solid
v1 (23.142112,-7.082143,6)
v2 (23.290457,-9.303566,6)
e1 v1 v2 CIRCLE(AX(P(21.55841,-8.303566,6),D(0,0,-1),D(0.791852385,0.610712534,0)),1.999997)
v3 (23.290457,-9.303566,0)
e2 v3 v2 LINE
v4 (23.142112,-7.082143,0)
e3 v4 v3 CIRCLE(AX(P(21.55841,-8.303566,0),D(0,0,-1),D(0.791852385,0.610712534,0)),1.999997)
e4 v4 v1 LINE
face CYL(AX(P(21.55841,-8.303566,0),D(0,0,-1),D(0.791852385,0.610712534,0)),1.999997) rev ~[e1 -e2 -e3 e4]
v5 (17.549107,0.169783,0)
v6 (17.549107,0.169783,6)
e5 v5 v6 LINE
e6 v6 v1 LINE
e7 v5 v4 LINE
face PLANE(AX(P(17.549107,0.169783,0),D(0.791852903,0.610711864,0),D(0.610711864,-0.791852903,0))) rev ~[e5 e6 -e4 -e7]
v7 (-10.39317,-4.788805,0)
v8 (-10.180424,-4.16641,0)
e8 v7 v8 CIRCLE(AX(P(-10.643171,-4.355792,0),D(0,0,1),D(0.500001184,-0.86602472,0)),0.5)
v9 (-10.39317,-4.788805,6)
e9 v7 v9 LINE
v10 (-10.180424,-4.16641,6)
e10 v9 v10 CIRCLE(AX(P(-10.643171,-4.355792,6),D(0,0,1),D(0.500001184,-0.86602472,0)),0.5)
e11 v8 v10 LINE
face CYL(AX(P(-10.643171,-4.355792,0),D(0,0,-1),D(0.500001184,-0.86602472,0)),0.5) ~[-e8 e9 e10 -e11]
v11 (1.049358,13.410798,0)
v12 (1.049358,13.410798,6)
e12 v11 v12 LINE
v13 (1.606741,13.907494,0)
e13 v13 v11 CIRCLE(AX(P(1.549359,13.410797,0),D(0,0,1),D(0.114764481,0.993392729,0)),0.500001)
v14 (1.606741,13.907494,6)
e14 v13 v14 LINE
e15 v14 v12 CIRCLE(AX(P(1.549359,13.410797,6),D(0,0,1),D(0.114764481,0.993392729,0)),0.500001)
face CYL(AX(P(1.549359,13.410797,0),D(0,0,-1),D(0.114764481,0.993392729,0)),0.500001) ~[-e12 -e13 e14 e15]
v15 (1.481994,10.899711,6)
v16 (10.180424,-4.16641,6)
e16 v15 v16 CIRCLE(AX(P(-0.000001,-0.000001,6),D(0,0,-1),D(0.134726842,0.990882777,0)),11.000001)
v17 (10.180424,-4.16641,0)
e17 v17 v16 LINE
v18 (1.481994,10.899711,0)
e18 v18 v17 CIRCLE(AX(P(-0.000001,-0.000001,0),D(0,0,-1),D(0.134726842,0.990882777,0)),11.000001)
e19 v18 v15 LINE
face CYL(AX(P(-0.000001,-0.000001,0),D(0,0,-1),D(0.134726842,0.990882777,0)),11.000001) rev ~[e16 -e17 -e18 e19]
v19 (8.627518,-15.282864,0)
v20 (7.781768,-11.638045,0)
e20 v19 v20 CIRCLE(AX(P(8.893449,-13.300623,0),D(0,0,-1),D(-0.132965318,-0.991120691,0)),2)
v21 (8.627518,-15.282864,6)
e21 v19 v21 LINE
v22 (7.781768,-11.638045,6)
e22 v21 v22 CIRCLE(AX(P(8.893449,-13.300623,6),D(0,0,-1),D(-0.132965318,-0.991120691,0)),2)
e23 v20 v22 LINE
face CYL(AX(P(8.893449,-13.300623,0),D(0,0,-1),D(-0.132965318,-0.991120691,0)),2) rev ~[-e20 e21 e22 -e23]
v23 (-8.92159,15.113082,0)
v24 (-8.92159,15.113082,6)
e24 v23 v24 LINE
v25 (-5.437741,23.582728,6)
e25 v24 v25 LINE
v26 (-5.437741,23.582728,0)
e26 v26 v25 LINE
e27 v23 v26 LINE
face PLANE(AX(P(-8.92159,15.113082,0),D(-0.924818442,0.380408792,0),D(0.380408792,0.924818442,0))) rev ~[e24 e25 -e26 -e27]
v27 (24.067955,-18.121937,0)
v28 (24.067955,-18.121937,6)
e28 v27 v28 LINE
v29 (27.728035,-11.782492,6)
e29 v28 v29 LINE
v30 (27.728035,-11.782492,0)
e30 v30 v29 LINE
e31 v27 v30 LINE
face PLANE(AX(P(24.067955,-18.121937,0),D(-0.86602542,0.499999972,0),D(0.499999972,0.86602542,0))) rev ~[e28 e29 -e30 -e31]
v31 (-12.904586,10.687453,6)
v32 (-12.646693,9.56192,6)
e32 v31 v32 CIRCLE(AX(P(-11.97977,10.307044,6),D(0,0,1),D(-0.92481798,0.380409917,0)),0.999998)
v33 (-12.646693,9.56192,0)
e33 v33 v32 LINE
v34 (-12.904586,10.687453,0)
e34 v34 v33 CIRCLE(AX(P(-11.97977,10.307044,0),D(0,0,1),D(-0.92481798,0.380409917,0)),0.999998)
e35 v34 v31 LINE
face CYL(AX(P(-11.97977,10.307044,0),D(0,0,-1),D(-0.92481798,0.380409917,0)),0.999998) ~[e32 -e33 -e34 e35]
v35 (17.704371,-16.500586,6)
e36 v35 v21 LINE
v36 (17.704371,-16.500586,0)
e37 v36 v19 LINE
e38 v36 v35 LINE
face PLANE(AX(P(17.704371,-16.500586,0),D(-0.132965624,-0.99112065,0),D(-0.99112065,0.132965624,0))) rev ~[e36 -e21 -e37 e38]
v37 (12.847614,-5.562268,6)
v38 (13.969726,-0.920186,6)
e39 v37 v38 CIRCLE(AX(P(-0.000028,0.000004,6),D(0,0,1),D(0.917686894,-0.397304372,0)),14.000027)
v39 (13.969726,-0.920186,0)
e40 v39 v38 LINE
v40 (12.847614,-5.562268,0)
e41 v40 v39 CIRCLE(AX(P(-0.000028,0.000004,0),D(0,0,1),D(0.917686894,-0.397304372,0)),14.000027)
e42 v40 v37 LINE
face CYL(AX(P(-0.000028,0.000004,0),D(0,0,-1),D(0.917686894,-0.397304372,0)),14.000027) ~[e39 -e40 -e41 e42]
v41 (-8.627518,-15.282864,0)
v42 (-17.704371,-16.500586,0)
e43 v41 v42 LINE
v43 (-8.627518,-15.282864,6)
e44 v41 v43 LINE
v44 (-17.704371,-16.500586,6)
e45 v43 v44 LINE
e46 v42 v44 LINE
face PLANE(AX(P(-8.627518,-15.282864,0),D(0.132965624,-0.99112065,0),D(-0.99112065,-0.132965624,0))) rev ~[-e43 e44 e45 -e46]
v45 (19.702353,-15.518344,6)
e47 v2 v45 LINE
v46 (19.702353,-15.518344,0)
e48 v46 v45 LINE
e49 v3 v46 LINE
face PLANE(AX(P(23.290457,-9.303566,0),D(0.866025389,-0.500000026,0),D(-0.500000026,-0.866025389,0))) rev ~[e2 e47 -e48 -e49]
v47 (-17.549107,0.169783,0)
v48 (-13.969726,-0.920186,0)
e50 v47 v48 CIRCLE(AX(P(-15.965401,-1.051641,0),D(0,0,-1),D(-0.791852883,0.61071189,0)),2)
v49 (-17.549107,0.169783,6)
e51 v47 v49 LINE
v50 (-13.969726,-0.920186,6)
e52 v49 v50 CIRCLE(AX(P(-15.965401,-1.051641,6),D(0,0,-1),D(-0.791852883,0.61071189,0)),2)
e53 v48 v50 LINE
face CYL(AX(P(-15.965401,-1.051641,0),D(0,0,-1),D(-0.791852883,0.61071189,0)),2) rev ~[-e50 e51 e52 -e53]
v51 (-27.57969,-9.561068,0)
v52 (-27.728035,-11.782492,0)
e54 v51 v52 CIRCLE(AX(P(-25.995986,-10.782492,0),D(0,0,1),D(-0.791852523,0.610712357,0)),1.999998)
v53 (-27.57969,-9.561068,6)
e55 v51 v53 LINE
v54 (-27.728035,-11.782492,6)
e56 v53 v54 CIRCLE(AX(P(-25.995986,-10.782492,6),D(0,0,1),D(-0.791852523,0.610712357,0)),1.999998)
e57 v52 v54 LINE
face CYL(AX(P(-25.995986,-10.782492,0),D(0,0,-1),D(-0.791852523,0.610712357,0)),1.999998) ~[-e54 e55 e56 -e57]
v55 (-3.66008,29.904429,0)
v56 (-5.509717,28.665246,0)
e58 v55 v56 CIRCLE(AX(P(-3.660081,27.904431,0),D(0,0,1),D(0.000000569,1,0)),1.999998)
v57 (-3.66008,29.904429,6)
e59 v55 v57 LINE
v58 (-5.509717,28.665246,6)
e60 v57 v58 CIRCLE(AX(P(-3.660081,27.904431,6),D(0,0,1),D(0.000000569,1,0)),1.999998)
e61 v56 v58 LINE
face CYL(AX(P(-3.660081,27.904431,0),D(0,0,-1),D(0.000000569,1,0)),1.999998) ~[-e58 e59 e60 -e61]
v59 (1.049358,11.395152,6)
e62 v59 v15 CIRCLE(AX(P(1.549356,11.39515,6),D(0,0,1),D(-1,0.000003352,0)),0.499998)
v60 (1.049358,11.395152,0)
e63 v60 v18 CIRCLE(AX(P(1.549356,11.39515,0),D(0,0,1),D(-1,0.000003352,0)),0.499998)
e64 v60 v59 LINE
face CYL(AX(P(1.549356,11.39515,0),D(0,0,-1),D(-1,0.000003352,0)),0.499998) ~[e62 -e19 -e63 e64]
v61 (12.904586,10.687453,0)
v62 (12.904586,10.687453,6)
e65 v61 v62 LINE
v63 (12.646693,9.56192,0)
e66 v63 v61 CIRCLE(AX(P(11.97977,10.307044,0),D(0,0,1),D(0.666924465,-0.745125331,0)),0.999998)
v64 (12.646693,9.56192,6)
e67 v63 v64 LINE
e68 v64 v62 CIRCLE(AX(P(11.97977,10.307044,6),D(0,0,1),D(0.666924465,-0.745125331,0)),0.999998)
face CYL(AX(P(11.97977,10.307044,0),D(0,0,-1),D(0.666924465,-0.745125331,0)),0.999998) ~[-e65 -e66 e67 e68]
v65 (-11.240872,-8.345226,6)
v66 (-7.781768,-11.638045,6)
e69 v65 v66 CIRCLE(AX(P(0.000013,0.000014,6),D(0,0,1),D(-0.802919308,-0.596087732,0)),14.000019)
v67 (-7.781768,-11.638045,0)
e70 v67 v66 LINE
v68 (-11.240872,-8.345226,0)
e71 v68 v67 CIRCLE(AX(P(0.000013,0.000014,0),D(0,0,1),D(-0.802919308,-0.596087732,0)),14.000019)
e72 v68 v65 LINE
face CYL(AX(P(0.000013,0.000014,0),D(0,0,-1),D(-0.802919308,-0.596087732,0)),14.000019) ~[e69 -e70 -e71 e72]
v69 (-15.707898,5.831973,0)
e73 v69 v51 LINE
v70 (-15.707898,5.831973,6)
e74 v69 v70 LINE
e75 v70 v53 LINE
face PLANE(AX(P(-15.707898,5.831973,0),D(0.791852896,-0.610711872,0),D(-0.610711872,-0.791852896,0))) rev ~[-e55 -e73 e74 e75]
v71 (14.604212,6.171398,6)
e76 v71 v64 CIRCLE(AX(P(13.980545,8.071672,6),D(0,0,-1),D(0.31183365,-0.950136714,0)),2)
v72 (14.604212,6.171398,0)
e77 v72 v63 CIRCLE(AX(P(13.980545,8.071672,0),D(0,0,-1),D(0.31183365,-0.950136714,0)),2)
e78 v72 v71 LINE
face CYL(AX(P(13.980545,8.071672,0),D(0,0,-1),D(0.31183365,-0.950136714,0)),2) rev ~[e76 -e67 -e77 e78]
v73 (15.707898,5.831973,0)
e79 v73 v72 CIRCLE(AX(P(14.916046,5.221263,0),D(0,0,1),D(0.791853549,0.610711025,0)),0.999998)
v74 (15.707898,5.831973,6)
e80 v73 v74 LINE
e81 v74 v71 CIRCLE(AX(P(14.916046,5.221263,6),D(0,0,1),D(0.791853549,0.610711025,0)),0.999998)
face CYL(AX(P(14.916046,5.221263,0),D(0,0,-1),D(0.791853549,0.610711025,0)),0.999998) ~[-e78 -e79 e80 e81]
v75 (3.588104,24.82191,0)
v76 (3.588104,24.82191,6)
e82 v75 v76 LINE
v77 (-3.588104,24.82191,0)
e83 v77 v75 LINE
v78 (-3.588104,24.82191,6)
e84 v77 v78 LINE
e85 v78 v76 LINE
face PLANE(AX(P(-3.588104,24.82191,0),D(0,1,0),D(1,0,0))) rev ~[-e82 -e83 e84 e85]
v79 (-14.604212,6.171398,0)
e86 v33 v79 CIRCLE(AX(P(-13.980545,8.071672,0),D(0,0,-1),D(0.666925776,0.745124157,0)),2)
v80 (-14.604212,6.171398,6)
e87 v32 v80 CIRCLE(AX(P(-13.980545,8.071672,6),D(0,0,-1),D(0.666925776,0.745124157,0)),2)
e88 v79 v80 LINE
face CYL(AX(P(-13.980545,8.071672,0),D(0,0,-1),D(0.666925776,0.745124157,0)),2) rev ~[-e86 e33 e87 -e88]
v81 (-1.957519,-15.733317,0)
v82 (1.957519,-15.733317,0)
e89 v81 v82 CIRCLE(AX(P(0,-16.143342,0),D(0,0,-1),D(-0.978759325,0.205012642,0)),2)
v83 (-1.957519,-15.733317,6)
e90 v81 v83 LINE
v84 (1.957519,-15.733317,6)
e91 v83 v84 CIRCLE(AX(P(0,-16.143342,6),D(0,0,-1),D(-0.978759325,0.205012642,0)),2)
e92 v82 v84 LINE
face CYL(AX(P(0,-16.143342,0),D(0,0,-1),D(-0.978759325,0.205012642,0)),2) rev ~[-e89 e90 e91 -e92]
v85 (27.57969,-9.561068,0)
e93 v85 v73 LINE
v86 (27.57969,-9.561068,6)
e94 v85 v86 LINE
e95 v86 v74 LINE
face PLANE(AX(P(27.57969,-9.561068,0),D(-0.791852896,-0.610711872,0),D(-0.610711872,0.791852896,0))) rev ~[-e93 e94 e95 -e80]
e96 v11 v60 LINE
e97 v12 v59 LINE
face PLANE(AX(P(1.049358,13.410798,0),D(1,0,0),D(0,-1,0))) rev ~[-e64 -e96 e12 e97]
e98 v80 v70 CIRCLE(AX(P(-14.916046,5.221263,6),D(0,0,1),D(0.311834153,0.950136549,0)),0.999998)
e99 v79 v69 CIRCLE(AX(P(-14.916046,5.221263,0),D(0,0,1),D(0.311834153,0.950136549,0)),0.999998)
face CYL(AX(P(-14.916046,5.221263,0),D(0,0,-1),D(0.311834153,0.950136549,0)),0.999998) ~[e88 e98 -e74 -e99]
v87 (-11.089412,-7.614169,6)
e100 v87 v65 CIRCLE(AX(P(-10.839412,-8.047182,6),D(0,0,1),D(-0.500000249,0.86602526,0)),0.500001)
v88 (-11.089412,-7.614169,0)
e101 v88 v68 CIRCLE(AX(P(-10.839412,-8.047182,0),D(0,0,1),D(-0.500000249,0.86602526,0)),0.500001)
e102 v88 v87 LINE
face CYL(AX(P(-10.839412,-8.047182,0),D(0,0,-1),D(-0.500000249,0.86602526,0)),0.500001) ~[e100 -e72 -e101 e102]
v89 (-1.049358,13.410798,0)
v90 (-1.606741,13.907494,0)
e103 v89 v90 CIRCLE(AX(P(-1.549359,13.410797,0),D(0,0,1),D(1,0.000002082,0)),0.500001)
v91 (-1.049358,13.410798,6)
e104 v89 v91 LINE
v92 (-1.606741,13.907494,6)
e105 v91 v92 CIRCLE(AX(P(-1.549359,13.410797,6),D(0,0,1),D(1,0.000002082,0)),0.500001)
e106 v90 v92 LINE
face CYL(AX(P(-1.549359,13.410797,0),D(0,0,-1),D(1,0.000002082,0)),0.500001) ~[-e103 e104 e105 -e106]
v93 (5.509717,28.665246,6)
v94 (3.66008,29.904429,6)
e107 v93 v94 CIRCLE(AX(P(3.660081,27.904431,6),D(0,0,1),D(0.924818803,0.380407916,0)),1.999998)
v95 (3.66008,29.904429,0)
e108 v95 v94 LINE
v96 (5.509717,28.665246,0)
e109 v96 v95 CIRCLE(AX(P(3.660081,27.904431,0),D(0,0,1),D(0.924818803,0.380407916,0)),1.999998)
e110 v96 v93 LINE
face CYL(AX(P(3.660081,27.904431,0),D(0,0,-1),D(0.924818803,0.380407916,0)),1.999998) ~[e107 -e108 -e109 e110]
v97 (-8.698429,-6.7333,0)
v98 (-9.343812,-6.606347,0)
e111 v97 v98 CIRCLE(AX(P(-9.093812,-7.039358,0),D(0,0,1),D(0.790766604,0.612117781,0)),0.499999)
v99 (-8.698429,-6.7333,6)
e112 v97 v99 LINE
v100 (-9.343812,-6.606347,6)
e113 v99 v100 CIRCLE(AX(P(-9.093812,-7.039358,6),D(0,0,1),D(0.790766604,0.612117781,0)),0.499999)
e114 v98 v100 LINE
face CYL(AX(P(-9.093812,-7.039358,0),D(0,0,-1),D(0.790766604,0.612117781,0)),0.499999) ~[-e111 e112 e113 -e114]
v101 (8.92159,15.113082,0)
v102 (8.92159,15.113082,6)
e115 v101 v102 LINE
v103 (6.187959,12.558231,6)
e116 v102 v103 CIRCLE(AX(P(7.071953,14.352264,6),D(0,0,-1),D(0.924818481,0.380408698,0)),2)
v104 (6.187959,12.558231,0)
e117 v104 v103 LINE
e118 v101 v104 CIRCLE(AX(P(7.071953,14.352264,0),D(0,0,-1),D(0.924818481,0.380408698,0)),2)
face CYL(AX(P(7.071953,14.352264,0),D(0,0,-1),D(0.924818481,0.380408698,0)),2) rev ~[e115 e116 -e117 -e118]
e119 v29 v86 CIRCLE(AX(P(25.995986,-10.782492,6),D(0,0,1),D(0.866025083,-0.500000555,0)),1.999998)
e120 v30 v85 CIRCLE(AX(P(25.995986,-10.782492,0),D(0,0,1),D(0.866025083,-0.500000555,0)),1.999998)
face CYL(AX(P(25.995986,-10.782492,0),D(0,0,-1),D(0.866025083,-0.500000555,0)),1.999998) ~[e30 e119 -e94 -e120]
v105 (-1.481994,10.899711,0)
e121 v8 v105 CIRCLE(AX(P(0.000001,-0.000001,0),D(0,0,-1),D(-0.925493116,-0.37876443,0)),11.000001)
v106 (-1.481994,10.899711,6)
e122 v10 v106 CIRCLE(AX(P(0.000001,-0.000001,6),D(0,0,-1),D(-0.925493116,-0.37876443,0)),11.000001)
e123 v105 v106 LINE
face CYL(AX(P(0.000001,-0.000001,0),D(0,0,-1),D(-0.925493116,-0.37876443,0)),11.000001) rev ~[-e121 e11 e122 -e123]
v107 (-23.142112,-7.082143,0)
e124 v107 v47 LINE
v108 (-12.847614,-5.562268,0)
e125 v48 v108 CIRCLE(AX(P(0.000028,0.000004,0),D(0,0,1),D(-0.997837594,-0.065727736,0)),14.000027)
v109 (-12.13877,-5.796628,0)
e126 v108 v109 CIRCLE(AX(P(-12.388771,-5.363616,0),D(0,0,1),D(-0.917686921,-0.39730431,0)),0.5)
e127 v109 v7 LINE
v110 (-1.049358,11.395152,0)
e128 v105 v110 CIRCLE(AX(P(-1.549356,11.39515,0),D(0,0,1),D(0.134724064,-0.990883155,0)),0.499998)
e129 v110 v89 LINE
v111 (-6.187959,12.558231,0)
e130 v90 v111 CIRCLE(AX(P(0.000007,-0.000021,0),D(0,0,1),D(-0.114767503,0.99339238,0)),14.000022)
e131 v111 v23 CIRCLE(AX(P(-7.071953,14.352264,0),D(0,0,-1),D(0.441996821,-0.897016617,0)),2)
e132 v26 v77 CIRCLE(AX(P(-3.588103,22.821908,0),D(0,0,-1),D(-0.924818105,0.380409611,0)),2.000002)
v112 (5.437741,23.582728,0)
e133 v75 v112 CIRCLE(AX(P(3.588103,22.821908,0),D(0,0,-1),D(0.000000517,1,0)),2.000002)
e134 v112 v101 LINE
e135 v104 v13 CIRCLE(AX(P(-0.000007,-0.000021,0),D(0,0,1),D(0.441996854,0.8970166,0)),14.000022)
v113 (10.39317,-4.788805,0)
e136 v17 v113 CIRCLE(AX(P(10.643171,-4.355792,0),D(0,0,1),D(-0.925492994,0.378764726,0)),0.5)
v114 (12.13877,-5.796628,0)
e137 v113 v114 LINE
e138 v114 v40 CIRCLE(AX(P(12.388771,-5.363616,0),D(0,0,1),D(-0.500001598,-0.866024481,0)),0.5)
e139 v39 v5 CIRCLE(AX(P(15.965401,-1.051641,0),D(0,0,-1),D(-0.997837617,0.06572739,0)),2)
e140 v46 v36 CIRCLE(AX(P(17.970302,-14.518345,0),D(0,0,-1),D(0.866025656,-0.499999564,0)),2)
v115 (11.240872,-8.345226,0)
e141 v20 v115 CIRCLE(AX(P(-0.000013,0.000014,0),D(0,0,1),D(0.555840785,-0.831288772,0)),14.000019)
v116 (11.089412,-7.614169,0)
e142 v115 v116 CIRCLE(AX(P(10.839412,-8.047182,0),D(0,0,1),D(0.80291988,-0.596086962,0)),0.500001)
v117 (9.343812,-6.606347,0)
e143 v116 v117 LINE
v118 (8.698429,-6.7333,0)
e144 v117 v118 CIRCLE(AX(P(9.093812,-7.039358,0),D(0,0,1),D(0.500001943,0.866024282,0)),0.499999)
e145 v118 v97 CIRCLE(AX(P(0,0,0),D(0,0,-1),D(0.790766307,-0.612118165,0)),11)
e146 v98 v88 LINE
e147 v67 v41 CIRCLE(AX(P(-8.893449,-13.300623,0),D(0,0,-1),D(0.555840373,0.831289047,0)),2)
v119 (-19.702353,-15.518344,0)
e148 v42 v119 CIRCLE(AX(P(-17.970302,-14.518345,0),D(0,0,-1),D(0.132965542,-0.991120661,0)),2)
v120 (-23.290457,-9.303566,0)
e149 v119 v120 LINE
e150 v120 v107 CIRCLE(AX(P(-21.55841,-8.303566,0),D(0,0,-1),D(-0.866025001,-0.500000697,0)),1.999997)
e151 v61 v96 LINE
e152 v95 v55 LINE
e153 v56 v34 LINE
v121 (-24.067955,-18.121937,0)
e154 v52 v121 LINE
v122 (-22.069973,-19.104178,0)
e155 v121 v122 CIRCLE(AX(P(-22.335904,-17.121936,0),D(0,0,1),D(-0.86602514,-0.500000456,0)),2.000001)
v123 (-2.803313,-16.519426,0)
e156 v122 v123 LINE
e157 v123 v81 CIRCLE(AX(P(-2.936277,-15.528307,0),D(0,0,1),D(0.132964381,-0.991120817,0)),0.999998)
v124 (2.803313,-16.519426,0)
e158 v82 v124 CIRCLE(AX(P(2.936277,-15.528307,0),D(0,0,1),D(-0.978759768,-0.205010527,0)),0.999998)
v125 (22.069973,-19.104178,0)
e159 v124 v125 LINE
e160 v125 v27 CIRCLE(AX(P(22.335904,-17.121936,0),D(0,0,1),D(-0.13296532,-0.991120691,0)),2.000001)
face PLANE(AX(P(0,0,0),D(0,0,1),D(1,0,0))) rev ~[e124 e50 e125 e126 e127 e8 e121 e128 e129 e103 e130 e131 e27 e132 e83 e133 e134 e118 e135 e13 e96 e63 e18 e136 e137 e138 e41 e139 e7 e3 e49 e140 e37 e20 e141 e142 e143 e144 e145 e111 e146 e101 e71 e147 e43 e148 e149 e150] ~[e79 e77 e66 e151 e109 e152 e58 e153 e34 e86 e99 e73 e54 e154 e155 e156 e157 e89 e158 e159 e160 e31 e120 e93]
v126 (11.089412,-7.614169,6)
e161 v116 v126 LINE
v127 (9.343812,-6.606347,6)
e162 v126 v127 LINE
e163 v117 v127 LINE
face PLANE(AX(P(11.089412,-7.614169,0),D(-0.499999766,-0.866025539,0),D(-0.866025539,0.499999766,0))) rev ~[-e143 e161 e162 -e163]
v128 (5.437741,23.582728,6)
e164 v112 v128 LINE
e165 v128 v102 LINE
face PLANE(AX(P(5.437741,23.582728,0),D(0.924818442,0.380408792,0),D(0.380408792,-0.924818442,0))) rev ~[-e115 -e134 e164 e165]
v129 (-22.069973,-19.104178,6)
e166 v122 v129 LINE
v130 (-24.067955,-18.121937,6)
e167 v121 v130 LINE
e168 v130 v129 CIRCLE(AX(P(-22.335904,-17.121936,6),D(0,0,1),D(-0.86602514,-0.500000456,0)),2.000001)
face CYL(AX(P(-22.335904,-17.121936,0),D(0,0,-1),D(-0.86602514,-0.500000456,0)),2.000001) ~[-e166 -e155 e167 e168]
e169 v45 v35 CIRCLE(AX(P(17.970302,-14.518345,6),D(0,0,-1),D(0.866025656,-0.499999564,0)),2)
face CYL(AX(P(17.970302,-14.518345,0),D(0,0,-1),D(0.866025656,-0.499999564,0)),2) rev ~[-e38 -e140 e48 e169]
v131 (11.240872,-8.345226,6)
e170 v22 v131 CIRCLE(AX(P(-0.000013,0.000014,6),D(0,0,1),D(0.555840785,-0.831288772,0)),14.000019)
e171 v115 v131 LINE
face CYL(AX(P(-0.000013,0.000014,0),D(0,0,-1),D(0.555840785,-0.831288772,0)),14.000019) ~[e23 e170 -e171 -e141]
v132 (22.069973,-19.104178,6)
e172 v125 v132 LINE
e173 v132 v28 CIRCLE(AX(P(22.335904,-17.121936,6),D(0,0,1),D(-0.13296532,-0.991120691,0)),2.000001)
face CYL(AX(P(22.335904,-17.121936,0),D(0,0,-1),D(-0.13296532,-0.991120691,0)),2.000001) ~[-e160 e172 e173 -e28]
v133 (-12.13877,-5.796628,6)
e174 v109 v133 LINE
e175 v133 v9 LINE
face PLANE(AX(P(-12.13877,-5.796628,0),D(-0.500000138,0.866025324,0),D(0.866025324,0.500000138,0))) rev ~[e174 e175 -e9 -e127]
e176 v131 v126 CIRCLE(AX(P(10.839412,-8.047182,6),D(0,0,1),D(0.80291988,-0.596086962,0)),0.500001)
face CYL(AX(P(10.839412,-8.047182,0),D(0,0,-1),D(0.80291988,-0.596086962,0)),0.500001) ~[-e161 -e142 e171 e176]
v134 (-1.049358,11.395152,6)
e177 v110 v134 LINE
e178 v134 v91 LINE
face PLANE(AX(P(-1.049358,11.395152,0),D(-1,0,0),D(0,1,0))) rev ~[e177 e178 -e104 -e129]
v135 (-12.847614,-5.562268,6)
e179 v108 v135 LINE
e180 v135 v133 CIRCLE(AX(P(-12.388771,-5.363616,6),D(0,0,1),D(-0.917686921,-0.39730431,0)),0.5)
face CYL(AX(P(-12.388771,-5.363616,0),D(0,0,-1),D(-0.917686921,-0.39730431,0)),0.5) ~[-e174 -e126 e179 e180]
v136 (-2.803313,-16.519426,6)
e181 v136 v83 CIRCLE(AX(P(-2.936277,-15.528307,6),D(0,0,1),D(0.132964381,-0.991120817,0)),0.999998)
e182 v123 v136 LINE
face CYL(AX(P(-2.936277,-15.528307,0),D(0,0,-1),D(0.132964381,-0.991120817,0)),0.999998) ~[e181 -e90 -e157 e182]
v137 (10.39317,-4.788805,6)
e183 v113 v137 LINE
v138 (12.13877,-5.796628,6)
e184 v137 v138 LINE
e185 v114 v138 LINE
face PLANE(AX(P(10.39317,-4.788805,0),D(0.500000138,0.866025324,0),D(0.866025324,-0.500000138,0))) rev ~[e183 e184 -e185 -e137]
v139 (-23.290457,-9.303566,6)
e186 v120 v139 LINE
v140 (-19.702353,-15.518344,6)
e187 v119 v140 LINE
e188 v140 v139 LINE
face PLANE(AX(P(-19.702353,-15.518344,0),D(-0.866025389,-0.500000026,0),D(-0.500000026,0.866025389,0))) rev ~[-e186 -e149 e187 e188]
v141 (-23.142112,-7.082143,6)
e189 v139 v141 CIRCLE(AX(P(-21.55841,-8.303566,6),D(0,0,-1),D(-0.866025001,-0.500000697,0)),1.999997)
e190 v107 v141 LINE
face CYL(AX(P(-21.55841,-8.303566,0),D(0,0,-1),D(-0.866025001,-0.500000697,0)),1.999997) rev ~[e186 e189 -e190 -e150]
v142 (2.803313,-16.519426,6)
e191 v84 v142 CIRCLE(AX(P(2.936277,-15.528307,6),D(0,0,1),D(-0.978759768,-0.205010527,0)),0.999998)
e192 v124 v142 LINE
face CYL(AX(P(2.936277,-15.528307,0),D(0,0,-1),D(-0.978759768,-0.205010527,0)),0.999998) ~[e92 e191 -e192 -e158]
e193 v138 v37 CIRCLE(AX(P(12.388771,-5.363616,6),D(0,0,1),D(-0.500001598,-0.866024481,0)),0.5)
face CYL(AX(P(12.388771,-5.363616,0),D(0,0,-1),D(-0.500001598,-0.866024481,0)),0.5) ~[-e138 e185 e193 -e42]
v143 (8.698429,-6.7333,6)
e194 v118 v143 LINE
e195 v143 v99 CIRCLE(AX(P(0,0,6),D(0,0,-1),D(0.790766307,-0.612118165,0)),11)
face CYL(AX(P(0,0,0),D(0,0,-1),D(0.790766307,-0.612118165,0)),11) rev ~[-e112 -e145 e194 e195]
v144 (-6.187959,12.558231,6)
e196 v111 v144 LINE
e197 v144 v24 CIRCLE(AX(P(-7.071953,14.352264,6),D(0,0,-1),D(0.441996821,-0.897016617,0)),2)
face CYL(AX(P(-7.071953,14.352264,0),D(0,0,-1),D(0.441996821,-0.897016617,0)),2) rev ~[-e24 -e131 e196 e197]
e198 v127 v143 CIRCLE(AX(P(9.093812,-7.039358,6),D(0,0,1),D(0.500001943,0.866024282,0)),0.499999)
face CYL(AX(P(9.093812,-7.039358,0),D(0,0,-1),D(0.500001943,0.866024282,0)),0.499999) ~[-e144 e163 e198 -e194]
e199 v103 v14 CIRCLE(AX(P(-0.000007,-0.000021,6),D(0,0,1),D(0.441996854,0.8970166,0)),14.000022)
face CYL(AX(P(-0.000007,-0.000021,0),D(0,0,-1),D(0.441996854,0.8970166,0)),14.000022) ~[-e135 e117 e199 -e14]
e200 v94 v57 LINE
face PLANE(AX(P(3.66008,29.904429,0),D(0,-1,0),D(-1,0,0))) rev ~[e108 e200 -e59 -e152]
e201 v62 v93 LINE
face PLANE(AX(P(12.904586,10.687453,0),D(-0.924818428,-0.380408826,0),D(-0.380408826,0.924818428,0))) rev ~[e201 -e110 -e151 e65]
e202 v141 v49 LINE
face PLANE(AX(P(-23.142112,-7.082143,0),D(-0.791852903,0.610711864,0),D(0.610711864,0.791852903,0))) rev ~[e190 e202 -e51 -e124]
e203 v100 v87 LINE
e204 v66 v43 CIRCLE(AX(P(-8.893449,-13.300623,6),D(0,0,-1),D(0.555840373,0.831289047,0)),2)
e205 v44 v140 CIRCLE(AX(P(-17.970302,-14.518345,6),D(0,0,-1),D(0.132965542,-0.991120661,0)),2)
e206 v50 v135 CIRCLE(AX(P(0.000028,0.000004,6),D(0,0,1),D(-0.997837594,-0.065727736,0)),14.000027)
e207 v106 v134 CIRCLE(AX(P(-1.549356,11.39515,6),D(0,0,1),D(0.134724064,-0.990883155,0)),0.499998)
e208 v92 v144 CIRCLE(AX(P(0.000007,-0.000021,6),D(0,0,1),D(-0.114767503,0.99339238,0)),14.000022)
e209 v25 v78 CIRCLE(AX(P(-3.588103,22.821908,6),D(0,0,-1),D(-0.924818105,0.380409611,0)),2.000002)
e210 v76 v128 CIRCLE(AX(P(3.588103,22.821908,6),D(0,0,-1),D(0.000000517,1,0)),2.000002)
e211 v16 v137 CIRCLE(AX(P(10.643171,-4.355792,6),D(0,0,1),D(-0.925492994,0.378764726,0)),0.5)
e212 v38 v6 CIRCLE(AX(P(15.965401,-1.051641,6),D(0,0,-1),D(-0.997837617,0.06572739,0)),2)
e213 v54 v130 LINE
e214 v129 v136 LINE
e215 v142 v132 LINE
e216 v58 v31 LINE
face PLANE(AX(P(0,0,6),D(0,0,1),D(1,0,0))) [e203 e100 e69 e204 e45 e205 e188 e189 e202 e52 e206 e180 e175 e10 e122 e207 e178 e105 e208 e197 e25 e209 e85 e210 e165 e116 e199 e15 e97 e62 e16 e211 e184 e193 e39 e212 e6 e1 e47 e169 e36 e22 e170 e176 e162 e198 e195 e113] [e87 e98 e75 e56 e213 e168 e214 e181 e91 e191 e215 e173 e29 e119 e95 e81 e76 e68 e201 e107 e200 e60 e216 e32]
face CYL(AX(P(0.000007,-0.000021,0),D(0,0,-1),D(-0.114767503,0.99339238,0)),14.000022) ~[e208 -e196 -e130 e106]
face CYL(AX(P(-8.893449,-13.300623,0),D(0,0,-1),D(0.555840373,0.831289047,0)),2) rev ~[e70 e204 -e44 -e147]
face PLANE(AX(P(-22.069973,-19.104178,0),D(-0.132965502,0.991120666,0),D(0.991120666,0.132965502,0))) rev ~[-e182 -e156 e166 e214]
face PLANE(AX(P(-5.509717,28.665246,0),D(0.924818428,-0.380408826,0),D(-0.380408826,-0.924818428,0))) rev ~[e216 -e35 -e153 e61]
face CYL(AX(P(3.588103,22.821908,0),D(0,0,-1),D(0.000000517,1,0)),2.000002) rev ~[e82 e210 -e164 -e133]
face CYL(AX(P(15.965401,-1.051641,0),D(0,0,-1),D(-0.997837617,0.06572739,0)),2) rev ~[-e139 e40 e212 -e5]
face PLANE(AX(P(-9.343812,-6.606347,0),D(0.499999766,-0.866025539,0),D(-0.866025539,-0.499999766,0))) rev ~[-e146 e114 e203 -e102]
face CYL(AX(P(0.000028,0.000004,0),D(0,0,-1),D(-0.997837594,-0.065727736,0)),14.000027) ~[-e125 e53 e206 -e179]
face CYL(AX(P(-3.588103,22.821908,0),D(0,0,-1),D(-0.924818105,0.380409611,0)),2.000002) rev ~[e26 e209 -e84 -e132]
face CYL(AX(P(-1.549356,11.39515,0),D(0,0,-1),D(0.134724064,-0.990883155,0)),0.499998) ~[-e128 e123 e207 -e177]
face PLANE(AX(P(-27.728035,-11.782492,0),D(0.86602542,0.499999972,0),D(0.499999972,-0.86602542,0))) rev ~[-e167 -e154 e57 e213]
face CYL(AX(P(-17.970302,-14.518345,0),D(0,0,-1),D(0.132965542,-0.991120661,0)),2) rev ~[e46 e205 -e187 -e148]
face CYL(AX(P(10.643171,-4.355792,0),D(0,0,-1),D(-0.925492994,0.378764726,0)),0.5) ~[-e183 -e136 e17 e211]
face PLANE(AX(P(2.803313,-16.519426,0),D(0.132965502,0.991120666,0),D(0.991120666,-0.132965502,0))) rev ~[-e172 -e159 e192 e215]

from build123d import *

# Parameters (mm, degrees)
F1_DEPTH = 6


with BuildPart() as f1:
    # F0 (on Top) → F1 (new body)
    with BuildSketch(Plane.XY):
        with BuildLine():
            Line((3.66008, 29.904429), (-3.66008, 29.904429))
            ThreePointArc((-3.66008, 29.904429), (-4.773266, 29.566), (-5.509717, 28.665246))
            Line((-5.509717, 28.665246), (-12.904586, 10.687453))
            ThreePointArc((-12.904586, 10.687453), (-12.954508, 10.083702), (-12.646693, 9.56192))
            ThreePointArc((-12.646693, 9.56192), (-12.248494, 7.071671), (-14.604212, 6.171398))
            ThreePointArc((-14.604212, 6.171398), (-15.209996, 6.177082), (-15.707898, 5.831973))
            Line((-15.707898, 5.831973), (-27.57969, -9.561068))
            ThreePointArc((-27.57969, -9.561068), (-27.99154, -10.64923), (-27.728035, -11.782492))
            Line((-27.728035, -11.782492), (-24.067955, -18.121937))
            ThreePointArc((-24.067955, -18.121937), (-23.218274, -18.916769), (-22.069973, -19.104178))
            Line((-22.069973, -19.104178), (-2.803313, -16.519426))
            ThreePointArc((-2.803313, -16.519426), (-2.255488, -16.260784), (-1.957519, -15.733317))
            ThreePointArc((-1.957519, -15.733317), (0, -14.143342), (1.957519, -15.733317))
            ThreePointArc((1.957519, -15.733317), (2.255488, -16.260784), (2.803313, -16.519426))
            Line((2.803313, -16.519426), (22.069973, -19.104178))
            ThreePointArc((22.069973, -19.104178), (23.218274, -18.916769), (24.067955, -18.121937))
            Line((24.067955, -18.121937), (27.728035, -11.782492))
            ThreePointArc((27.728035, -11.782492), (27.99154, -10.64923), (27.57969, -9.561068))
            Line((27.57969, -9.561068), (15.707898, 5.831973))
            ThreePointArc((15.707898, 5.831973), (15.209996, 6.177082), (14.604212, 6.171398))
            ThreePointArc((14.604212, 6.171398), (12.248494, 7.071671), (12.646693, 9.56192))
            ThreePointArc((12.646693, 9.56192), (12.954508, 10.083702), (12.904586, 10.687453))
            Line((12.904586, 10.687453), (5.509717, 28.665246))
            ThreePointArc((5.509717, 28.665246), (4.773266, 29.566), (3.66008, 29.904429))
        make_face()
        with BuildLine():
            ThreePointArc((-10.180424, -4.16641), (-9.526279, 5.5), (-1.481994, 10.899711))
            ThreePointArc((-1.481994, 10.899711), (-1.17274, 11.066276), (-1.049358, 11.395152))
            Line((-1.049358, 11.395152), (-1.049358, 13.410798))
            ThreePointArc((-1.049358, 13.410798), (-1.216711, 13.784088), (-1.606741, 13.907494))
            ThreePointArc((-1.606741, 13.907494), (-3.955309, 13.429651), (-6.187959, 12.558231))
            ThreePointArc((-6.187959, 12.558231), (-8.437578, 12.891077), (-8.92159, 15.113082))
            Line((-8.92159, 15.113082), (-5.437741, 23.582728))
            ThreePointArc((-5.437741, 23.582728), (-4.701289, 24.483481), (-3.588104, 24.82191))
            Line((-3.588104, 24.82191), (3.588104, 24.82191))
            ThreePointArc((3.588104, 24.82191), (4.701289, 24.483481), (5.437741, 23.582728))
            Line((5.437741, 23.582728), (8.92159, 15.113082))
            ThreePointArc((8.92159, 15.113082), (8.437578, 12.891077), (6.187959, 12.558231))
            ThreePointArc((6.187959, 12.558231), (3.955309, 13.429651), (1.606741, 13.907494))
            ThreePointArc((1.606741, 13.907494), (1.216711, 13.784088), (1.049358, 13.410798))
            Line((1.049358, 13.410798), (1.049358, 11.395152))
            ThreePointArc((1.049358, 11.395152), (1.17274, 11.066276), (1.481994, 10.899711))
            ThreePointArc((1.481994, 10.899711), (9.526279, 5.5), (10.180424, -4.16641))
            ThreePointArc((10.180424, -4.16641), (10.170047, -4.517515), (10.39317, -4.788805))
            Line((10.39317, -4.788805), (12.13877, -5.796628))
            ThreePointArc((12.13877, -5.796628), (12.545726, -5.838342), (12.847614, -5.562268))
            ThreePointArc((12.847614, -5.562268), (13.608073, -3.289428), (13.969726, -0.920186))
            ThreePointArc((13.969726, -0.920186), (15.382789, 0.861619), (17.549107, 0.169783))
            Line((17.549107, 0.169783), (23.142112, -7.082143))
            ThreePointArc((23.142112, -7.082143), (23.553962, -8.170305), (23.290457, -9.303566))
            Line((23.290457, -9.303566), (19.702353, -15.518344))
            ThreePointArc((19.702353, -15.518344), (18.852672, -16.313177), (17.704371, -16.500586))
            Line((17.704371, -16.500586), (8.627518, -15.282864))
            ThreePointArc((8.627518, -15.282864), (6.945211, -13.752695), (7.781768, -11.638045))
            ThreePointArc((7.781768, -11.638045), (9.652765, -10.140223), (11.240872, -8.345226))
            ThreePointArc((11.240872, -8.345226), (11.329015, -7.945747), (11.089412, -7.614169))
            Line((11.089412, -7.614169), (9.343812, -6.606347))
            ThreePointArc((9.343812, -6.606347), (8.997306, -6.548761), (8.698429, -6.7333))
            ThreePointArc((8.698429, -6.7333), (0, -11), (-8.698429, -6.7333))
            ThreePointArc((-8.698429, -6.7333), (-8.997306, -6.548761), (-9.343812, -6.606347))
            Line((-9.343812, -6.606347), (-11.089412, -7.614169))
            ThreePointArc((-11.089412, -7.614169), (-11.329015, -7.945747), (-11.240872, -8.345226))
            ThreePointArc((-11.240872, -8.345226), (-9.652765, -10.140223), (-7.781768, -11.638045))
            ThreePointArc((-7.781768, -11.638045), (-6.945211, -13.752695), (-8.627518, -15.282864))
            Line((-8.627518, -15.282864), (-17.704371, -16.500586))
            ThreePointArc((-17.704371, -16.500586), (-18.852672, -16.313177), (-19.702353, -15.518344))
            Line((-19.702353, -15.518344), (-23.290457, -9.303566))
            ThreePointArc((-23.290457, -9.303566), (-23.553962, -8.170305), (-23.142112, -7.082143))
            Line((-23.142112, -7.082143), (-17.549107, 0.169783))
            ThreePointArc((-17.549107, 0.169783), (-15.382789, 0.861619), (-13.969726, -0.920186))
            ThreePointArc((-13.969726, -0.920186), (-13.608073, -3.289428), (-12.847614, -5.562268))
            ThreePointArc((-12.847614, -5.562268), (-12.545726, -5.838342), (-12.13877, -5.796628))
            Line((-12.13877, -5.796628), (-10.39317, -4.788805))
            ThreePointArc((-10.39317, -4.788805), (-10.170047, -4.517515), (-10.180424, -4.16641))
        make_face(mode=Mode.SUBTRACT)
    extrude(amount=F1_DEPTH)


solid = f1.part
